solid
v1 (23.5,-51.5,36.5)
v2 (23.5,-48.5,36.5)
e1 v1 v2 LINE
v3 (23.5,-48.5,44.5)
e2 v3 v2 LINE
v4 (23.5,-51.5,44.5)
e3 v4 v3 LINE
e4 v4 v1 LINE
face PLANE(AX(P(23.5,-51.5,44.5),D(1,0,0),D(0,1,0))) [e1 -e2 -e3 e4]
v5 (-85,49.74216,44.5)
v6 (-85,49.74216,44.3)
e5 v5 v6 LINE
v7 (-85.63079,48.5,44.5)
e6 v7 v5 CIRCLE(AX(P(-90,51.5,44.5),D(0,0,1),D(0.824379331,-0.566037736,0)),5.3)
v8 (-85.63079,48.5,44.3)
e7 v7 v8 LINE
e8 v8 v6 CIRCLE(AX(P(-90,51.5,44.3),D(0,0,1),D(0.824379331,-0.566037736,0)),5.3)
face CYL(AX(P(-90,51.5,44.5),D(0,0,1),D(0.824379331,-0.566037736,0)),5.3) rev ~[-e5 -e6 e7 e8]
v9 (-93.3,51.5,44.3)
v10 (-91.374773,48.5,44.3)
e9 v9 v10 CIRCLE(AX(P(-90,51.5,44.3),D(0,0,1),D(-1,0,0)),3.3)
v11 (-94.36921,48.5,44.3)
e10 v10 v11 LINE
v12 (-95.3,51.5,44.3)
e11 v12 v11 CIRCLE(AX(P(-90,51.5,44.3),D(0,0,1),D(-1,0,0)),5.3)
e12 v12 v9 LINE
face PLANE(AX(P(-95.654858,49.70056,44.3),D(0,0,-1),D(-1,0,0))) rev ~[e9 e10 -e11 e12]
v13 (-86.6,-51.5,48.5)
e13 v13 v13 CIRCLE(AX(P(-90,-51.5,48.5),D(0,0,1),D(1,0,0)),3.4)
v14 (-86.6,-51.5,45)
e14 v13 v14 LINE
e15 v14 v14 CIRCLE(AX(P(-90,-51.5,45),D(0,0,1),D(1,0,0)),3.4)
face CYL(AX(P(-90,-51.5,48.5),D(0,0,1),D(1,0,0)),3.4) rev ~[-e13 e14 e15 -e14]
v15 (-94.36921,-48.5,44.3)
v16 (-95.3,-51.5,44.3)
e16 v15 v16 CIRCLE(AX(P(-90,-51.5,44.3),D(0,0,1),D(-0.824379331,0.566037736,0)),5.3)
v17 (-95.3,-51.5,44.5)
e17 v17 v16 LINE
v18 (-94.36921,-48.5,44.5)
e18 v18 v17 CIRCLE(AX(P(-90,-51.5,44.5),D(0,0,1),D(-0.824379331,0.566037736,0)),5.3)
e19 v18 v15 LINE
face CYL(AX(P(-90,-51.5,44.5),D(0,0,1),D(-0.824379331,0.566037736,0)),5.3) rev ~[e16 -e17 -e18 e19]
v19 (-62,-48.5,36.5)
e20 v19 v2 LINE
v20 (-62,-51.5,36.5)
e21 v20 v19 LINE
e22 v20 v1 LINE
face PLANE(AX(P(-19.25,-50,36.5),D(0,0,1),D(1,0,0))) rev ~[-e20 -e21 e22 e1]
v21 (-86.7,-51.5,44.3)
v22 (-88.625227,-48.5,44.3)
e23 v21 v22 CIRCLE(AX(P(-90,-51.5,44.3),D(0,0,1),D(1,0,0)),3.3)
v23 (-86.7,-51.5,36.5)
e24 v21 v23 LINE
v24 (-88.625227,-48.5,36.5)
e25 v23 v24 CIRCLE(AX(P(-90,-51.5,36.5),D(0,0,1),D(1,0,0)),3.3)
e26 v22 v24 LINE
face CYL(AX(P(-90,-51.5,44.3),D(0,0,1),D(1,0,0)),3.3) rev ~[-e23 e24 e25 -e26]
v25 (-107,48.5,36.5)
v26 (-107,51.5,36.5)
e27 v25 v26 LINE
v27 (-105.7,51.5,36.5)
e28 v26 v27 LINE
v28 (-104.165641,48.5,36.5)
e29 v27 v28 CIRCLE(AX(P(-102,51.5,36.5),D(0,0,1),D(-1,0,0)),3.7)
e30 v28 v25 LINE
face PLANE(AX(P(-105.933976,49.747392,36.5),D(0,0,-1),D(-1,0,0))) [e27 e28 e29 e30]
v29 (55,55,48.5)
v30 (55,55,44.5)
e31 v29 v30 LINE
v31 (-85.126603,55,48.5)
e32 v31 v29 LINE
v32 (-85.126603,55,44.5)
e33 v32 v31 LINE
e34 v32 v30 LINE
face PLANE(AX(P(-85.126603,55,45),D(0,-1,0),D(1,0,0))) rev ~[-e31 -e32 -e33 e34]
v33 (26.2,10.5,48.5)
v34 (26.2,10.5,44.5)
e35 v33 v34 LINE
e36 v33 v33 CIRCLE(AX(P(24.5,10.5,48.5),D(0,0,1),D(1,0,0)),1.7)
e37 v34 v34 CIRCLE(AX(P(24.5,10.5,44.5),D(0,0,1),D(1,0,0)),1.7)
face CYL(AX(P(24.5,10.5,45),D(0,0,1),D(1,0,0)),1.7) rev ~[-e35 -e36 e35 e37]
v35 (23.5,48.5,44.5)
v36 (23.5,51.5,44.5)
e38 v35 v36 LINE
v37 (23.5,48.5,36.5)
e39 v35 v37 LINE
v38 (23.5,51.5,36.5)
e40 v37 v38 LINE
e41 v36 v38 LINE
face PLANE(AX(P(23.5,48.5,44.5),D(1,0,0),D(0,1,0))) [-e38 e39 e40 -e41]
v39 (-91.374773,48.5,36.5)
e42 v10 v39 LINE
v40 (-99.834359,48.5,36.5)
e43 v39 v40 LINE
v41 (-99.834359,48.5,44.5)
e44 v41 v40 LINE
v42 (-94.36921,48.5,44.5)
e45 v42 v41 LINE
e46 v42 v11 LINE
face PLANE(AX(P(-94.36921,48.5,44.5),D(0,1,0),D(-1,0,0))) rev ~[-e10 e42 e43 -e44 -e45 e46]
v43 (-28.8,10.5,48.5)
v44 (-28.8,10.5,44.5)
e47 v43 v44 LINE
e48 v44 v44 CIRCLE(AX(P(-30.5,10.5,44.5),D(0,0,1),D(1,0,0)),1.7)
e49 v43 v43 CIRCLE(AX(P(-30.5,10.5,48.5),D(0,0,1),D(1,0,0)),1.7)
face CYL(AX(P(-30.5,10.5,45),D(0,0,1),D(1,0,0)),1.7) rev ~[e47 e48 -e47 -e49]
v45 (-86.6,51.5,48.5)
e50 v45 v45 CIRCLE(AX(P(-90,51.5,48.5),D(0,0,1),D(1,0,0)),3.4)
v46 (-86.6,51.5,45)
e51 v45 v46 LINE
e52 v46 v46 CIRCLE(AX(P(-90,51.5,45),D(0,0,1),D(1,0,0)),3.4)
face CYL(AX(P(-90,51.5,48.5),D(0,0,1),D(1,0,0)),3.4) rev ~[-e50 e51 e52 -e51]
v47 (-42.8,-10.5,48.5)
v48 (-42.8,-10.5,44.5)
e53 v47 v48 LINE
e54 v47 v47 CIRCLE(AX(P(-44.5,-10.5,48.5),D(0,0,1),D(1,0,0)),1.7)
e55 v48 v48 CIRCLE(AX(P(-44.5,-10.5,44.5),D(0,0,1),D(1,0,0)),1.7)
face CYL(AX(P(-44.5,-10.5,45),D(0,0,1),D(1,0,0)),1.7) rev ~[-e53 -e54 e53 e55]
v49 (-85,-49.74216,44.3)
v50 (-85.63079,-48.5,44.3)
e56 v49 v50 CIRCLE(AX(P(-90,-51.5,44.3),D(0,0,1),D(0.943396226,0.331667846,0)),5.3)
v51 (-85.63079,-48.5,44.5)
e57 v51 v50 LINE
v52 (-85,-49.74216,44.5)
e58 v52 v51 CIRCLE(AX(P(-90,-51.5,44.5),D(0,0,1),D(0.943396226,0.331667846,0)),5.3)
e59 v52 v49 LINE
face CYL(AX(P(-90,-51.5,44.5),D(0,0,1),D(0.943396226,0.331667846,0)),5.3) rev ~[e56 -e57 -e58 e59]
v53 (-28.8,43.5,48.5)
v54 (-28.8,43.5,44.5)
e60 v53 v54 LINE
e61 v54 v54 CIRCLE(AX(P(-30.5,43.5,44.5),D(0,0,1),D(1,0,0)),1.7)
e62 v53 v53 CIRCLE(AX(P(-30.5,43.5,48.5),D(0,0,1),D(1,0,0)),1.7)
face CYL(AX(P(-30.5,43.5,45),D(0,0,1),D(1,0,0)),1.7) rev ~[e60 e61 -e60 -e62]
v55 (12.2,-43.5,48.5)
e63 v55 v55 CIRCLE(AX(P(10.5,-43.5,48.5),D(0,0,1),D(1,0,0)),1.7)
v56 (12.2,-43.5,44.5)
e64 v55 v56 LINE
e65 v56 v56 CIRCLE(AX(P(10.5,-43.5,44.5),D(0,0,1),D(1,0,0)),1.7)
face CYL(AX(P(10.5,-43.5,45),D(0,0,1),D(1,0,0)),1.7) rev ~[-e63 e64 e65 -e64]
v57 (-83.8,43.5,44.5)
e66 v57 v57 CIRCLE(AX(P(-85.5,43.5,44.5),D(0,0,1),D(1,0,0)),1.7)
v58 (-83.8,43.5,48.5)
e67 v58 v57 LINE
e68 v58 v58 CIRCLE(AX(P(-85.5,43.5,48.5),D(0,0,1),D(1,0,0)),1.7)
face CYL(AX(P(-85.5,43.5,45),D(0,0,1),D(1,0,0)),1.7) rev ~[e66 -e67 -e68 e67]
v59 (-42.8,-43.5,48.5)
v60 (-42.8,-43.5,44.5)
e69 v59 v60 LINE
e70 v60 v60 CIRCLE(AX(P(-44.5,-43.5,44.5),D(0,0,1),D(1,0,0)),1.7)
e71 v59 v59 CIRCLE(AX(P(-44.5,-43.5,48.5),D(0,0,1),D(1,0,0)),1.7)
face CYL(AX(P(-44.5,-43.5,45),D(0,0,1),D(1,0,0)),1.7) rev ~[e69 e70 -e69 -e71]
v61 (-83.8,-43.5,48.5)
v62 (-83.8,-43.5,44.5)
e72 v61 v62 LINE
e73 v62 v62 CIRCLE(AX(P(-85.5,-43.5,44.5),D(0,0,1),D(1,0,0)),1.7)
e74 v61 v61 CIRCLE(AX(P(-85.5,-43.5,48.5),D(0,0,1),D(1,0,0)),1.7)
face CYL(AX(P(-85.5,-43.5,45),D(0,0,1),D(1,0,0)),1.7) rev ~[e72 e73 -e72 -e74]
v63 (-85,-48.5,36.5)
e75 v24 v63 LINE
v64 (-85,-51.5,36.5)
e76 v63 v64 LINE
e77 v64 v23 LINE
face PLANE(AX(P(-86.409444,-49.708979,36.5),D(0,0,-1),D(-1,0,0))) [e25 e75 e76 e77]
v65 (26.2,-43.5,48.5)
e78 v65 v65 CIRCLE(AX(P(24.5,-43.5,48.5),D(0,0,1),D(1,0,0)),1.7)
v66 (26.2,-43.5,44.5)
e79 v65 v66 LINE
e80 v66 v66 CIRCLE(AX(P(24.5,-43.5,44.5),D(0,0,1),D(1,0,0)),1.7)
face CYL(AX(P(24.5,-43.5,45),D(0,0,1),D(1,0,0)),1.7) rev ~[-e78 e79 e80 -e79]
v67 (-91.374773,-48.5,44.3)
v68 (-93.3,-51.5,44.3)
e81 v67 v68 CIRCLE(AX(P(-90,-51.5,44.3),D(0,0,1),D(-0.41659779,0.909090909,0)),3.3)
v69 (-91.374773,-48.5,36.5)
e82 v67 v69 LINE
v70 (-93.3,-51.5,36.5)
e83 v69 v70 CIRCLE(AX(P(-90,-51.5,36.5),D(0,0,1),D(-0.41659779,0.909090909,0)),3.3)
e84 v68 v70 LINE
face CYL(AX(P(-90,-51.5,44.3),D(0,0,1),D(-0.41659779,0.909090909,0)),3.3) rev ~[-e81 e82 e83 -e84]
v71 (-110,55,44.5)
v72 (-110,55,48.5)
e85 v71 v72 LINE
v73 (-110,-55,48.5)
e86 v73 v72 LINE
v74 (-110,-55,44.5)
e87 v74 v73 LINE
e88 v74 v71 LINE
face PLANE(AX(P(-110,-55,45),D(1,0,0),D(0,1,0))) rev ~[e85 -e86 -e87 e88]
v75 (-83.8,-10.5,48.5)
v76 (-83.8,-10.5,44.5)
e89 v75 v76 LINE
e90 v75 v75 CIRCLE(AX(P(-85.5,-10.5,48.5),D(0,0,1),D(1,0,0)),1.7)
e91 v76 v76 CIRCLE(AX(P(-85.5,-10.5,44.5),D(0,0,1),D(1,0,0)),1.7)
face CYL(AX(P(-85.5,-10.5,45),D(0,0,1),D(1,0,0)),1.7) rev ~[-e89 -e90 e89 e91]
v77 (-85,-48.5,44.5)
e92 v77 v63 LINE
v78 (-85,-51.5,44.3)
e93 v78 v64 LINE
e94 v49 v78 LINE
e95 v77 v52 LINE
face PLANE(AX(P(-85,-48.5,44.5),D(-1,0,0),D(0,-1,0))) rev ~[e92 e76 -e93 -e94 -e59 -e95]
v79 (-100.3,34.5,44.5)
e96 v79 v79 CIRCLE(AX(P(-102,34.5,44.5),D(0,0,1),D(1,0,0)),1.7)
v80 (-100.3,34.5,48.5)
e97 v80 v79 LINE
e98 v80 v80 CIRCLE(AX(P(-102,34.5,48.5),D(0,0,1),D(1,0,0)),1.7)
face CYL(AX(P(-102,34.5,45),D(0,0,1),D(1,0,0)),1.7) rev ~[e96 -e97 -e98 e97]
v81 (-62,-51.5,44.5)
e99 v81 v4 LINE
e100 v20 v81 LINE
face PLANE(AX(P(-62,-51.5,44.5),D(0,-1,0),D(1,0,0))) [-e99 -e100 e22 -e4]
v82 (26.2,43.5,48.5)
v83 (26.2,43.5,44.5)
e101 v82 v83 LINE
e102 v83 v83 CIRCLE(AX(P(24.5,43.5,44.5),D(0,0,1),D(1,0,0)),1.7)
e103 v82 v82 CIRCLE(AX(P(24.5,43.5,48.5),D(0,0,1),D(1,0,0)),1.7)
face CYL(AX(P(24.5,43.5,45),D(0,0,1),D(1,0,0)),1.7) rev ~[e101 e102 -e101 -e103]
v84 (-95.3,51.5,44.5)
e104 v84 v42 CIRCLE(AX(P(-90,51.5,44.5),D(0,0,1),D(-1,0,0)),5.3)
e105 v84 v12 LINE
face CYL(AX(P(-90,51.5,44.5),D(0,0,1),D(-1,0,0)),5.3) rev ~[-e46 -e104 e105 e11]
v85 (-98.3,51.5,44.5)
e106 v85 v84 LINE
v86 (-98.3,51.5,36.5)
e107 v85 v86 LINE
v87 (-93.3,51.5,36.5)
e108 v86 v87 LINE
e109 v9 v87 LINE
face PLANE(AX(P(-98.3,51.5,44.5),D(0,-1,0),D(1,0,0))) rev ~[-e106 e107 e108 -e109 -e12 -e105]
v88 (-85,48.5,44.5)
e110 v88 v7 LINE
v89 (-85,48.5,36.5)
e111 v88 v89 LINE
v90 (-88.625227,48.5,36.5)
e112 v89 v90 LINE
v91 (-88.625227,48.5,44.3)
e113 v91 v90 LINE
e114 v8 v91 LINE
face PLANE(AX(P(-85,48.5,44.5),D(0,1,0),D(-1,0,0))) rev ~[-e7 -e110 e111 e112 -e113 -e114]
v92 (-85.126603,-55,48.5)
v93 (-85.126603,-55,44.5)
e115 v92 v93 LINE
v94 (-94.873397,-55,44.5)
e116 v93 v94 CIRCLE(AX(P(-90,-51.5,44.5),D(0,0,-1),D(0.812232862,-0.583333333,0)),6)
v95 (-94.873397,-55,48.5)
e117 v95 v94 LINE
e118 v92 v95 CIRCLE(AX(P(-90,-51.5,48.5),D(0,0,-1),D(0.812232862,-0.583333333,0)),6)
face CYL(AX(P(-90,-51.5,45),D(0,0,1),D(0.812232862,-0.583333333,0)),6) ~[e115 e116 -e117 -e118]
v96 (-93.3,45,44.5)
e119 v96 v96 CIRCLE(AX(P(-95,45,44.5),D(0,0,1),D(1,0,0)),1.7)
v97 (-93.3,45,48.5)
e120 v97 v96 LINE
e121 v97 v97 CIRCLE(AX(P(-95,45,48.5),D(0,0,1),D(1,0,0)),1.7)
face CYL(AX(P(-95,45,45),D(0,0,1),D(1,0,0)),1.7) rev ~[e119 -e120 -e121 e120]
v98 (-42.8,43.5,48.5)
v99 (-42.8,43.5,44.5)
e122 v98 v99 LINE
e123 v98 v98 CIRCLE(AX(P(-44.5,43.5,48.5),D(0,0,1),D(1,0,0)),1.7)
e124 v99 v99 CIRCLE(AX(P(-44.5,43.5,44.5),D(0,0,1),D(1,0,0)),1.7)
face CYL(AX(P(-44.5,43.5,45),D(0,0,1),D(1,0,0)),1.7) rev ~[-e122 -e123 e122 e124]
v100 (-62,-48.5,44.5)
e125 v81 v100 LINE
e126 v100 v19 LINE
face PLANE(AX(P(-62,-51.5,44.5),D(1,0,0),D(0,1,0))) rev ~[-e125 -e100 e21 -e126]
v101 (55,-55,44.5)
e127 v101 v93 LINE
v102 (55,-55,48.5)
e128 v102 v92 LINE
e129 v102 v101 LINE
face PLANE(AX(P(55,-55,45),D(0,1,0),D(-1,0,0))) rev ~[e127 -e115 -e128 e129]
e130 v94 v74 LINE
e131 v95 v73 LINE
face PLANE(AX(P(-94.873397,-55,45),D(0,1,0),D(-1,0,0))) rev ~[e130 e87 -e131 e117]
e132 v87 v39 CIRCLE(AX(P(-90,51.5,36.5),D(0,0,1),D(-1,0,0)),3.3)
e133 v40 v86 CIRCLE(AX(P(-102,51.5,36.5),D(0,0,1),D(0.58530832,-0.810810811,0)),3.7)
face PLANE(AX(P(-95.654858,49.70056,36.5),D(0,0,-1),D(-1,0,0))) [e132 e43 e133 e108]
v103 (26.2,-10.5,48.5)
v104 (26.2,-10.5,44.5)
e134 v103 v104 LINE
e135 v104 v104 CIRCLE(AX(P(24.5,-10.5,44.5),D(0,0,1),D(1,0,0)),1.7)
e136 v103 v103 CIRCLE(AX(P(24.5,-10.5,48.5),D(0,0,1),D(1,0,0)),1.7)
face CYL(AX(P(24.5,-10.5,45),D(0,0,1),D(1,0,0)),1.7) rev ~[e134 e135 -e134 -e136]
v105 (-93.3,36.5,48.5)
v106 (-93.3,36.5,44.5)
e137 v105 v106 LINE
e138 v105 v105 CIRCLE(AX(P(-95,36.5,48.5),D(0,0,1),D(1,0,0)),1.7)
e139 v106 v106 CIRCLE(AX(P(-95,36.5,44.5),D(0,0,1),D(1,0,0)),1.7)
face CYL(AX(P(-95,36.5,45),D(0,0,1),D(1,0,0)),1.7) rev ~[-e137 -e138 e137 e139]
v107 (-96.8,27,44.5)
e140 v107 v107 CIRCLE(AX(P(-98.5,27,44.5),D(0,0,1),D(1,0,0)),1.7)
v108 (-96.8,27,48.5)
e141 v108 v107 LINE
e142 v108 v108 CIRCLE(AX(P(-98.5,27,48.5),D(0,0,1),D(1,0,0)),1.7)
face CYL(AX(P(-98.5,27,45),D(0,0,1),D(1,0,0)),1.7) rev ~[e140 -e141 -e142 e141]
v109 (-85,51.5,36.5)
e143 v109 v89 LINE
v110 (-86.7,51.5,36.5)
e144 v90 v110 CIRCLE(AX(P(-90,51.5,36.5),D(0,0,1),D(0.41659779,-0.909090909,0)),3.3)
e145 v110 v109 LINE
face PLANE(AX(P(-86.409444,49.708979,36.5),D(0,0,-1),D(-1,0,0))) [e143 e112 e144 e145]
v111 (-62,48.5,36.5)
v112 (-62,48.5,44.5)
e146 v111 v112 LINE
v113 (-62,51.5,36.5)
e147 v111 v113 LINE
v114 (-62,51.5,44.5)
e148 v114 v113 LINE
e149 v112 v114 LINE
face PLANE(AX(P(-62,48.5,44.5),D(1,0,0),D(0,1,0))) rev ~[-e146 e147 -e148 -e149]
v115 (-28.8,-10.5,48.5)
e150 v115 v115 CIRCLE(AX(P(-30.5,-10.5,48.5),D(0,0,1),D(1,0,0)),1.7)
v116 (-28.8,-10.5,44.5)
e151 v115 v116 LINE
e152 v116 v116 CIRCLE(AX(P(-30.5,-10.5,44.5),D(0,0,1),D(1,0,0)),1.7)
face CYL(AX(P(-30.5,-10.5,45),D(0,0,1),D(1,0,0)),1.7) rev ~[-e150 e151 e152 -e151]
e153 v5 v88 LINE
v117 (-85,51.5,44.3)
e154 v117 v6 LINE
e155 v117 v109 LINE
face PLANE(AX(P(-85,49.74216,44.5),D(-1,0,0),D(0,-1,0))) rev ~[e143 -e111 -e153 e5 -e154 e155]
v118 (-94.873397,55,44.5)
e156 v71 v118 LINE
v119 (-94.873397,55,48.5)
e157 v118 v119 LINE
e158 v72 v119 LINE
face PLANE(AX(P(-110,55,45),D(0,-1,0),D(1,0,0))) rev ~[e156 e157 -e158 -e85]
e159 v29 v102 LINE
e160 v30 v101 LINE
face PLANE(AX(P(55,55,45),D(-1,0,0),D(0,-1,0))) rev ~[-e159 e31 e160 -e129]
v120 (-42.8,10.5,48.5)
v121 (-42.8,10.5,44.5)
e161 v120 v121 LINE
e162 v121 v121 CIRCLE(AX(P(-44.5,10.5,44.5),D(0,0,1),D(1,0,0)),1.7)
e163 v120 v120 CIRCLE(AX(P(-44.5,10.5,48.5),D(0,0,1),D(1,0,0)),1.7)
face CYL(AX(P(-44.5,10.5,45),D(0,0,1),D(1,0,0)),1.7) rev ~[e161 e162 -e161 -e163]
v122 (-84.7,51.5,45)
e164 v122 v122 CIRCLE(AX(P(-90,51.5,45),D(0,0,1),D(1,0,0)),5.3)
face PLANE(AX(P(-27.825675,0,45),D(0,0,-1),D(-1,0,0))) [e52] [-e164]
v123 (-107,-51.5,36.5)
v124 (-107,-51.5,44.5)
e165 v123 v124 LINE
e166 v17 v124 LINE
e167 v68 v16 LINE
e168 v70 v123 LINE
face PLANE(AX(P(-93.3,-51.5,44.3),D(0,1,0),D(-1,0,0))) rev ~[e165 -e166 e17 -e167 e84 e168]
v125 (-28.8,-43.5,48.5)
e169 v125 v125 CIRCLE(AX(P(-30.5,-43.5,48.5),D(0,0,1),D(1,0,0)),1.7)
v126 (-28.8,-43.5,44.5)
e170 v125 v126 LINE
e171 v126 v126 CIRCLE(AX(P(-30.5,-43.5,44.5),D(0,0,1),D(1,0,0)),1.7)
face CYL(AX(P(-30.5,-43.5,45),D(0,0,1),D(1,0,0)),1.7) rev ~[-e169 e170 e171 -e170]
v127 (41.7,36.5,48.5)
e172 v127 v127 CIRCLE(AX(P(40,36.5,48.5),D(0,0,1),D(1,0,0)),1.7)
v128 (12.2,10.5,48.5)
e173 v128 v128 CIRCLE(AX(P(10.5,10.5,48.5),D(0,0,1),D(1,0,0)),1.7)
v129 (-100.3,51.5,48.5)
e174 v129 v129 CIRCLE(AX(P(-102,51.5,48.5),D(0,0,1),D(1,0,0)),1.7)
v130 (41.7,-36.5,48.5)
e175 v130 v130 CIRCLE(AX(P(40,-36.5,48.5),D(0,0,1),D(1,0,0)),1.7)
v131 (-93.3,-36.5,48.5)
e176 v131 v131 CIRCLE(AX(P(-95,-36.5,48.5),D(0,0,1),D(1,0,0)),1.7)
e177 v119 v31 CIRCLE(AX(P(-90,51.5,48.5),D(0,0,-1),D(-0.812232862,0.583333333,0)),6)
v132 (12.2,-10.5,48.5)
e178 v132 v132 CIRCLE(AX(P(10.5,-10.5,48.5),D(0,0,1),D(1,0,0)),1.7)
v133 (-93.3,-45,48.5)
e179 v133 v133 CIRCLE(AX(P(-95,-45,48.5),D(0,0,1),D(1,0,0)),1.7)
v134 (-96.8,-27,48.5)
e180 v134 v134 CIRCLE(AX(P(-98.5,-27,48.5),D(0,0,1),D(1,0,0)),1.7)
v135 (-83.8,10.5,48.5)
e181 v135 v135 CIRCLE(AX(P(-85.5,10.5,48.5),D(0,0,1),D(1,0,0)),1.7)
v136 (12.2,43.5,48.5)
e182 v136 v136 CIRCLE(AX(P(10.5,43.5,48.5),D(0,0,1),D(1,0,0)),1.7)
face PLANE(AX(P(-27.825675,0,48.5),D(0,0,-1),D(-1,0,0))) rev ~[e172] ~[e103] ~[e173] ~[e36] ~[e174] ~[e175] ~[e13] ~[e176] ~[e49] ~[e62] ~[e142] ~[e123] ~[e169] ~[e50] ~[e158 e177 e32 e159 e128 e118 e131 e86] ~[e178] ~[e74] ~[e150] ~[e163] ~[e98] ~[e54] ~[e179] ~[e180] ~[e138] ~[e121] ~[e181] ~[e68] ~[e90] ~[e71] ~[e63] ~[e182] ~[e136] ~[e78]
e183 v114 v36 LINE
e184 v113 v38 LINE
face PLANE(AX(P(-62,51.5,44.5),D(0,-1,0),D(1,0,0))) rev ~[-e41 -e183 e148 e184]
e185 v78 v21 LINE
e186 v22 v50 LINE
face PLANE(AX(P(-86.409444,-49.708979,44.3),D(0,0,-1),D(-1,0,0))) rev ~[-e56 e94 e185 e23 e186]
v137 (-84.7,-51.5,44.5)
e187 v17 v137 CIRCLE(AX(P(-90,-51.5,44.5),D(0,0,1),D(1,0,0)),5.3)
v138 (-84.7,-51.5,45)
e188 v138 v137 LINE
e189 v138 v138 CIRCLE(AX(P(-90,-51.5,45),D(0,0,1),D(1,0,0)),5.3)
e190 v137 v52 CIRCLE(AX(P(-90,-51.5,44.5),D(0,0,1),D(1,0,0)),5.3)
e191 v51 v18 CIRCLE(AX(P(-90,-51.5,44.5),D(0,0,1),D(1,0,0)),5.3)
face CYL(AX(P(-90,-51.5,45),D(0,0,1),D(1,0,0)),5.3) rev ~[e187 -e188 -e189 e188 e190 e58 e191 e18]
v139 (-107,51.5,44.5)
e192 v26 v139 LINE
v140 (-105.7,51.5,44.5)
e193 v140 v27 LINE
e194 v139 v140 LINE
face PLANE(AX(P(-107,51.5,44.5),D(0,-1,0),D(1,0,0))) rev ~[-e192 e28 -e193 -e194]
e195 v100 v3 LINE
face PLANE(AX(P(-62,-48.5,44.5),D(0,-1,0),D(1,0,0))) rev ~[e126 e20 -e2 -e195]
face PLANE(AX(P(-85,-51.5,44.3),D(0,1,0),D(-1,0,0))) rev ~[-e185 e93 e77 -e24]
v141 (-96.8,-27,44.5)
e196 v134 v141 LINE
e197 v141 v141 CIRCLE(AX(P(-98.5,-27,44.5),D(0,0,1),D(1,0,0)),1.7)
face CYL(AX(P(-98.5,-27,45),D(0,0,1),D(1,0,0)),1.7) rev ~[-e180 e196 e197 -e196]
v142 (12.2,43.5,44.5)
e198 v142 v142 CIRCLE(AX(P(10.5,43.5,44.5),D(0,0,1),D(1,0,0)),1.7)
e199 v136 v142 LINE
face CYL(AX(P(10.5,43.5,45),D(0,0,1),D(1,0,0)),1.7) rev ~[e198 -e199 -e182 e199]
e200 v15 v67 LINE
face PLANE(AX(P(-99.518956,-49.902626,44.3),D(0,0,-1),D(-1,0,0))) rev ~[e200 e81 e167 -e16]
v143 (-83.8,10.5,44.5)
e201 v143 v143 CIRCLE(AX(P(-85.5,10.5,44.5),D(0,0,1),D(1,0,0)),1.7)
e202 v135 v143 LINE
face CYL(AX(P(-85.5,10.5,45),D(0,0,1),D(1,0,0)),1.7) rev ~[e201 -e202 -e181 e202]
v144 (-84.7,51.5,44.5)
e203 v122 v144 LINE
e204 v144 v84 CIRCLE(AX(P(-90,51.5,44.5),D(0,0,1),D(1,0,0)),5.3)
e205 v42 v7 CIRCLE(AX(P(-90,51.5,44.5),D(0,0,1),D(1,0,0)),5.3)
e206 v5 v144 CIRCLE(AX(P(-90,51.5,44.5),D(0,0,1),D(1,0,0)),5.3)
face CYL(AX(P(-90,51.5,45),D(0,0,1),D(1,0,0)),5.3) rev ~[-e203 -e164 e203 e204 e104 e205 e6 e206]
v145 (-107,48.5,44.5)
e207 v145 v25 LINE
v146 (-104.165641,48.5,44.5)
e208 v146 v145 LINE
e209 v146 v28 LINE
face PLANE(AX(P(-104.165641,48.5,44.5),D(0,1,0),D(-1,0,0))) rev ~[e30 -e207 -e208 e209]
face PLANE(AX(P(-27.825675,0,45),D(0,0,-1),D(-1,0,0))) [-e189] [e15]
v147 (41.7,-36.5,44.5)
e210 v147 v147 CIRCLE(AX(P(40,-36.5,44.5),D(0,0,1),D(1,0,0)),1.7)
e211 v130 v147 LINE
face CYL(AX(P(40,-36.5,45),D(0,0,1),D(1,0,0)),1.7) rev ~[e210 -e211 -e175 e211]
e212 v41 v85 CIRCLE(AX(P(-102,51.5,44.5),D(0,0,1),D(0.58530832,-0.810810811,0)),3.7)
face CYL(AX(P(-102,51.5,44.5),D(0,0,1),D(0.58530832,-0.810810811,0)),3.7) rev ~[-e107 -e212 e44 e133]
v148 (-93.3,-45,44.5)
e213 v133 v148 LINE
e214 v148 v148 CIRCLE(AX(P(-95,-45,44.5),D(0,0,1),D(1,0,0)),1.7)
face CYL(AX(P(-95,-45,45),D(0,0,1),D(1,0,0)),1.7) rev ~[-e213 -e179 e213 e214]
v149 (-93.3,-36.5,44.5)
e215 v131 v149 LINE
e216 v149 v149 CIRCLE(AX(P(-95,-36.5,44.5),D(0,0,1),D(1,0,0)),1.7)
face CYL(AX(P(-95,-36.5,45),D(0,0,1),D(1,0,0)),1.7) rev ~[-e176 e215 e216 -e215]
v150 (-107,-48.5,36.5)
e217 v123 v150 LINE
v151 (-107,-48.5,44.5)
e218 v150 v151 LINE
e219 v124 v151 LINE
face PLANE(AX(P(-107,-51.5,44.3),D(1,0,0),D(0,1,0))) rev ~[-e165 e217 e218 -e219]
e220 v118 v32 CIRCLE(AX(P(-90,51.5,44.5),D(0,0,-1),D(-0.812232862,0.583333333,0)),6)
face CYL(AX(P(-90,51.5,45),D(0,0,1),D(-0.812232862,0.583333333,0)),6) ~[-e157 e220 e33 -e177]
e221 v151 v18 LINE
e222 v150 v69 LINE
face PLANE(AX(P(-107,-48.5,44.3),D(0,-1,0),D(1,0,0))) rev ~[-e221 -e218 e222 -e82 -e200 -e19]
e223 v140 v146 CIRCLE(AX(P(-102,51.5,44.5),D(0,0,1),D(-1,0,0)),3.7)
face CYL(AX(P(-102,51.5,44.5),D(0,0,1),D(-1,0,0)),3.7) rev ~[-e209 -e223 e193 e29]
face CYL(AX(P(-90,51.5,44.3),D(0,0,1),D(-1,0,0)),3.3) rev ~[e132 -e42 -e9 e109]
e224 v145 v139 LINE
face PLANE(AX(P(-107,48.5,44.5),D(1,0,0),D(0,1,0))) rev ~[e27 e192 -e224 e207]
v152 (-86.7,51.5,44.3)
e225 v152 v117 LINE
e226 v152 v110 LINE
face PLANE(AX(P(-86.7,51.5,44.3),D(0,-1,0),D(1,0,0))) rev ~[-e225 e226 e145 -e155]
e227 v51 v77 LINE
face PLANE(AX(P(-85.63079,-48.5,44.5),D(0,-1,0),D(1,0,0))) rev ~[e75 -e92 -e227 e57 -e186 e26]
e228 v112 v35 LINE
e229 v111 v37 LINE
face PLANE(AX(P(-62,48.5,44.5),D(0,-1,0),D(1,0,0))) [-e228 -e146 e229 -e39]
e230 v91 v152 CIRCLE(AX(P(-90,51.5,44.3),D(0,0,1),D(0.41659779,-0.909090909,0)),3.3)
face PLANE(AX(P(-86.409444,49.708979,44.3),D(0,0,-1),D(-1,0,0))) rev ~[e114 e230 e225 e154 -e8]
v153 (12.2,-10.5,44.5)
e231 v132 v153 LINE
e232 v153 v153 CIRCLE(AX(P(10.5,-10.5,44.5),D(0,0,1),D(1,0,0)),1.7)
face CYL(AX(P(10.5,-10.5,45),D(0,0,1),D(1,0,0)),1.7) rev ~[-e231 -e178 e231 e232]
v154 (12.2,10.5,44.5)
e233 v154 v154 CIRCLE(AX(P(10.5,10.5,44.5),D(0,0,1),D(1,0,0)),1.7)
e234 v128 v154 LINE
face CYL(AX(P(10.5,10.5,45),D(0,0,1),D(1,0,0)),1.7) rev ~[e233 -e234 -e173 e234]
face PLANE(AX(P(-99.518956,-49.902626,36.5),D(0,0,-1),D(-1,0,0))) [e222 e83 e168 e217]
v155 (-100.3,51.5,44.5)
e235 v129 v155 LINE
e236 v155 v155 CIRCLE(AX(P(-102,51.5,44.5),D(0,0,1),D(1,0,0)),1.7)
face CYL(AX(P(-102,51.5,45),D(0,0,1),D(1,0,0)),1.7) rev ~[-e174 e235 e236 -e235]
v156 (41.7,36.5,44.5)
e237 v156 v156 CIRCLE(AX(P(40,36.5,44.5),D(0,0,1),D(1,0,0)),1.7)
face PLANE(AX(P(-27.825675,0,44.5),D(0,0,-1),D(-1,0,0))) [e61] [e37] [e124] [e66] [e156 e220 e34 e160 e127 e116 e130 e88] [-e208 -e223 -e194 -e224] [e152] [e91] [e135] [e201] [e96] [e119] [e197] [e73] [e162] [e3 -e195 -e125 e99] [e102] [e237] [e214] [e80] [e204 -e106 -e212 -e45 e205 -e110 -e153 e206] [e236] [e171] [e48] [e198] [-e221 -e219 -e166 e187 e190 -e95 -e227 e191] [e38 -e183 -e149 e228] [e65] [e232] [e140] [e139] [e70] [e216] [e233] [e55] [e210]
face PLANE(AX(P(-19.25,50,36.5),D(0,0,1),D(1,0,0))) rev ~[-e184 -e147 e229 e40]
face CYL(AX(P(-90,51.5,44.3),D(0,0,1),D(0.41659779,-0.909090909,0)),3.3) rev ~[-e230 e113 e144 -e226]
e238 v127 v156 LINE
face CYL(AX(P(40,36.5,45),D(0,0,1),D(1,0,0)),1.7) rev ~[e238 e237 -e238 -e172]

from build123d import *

# Parameters (mm, degrees)
MAIN_PROFILE_SKETCH_R       = 3.4
MAIN_PROFILE_SKETCH_R_2     = 1.7
MAIN_EXTRUSION_DEPTH        = 3.5
DETAIL_PROFILE_2_SKETCH_R   = 5.3
DETAIL_PROFILE_2_SKETCH_R_2 = 1.7
DETAIL_EXTRUSION_2_DEPTH    = 0.5
DETAIL_PROFILE_3_SKETCH_W   = 85.5
DETAIL_PROFILE_3_SKETCH_H   = 3
DETAIL_EXTRUSION_3_DEPTH    = 0.2
DETAIL_PROFILE_4_SKETCH_W   = 85.5
DETAIL_PROFILE_4_SKETCH_H   = 3
DETAIL_EXTRUSION_4_DEPTH    = 7.8


with BuildPart() as part:
    # Main Profile Sketch → Main Extrusion (new body)
    with BuildSketch(Plane.XY.offset(48.5)):
        with BuildLine():
            Line((-85.126602828, 55), (55, 55))
            Line((55, 55), (55, -55))
            Line((55, -55), (-85.126602828, -55))
            ThreePointArc((-85.126602828, -55), (-90, -57.5), (-94.873397172, -55))
            Line((-94.873397172, -55), (-110, -55))
            Line((-110, -55), (-110, 55))
            Line((-110, 55), (-94.873397172, 55))
            ThreePointArc((-94.873397172, 55), (-90, 57.5), (-85.126602828, 55))
        make_face()
        with Locations((-90, -51.5)):
            Circle(MAIN_PROFILE_SKETCH_R, mode=Mode.SUBTRACT)
        with Locations((-95, -45)):
            Circle(MAIN_PROFILE_SKETCH_R_2, mode=Mode.SUBTRACT)
        with Locations((-85.5, -43.5)):
            Circle(MAIN_PROFILE_SKETCH_R_2, mode=Mode.SUBTRACT)
        with Locations((-95, -36.5)):
            Circle(MAIN_PROFILE_SKETCH_R_2, mode=Mode.SUBTRACT)
        with Locations((-44.5, -43.5)):
            Circle(MAIN_PROFILE_SKETCH_R_2, mode=Mode.SUBTRACT)
        with Locations((-30.5, -43.5)):
            Circle(MAIN_PROFILE_SKETCH_R_2, mode=Mode.SUBTRACT)
        with Locations((-98.5, -27)):
            Circle(MAIN_PROFILE_SKETCH_R_2, mode=Mode.SUBTRACT)
        with Locations((-85.5, -10.5)):
            Circle(MAIN_PROFILE_SKETCH_R_2, mode=Mode.SUBTRACT)
        with Locations((-44.5, -10.5)):
            Circle(MAIN_PROFILE_SKETCH_R_2, mode=Mode.SUBTRACT)
        with Locations((-30.5, -10.5)):
            Circle(MAIN_PROFILE_SKETCH_R_2, mode=Mode.SUBTRACT)
        with Locations((10.5, -43.5)):
            Circle(MAIN_PROFILE_SKETCH_R_2, mode=Mode.SUBTRACT)
        with Locations((24.5, -43.5)):
            Circle(MAIN_PROFILE_SKETCH_R_2, mode=Mode.SUBTRACT)
        with Locations((40, -36.5)):
            Circle(MAIN_PROFILE_SKETCH_R_2, mode=Mode.SUBTRACT)
        with Locations((10.5, -10.5)):
            Circle(MAIN_PROFILE_SKETCH_R_2, mode=Mode.SUBTRACT)
        with Locations((24.5, -10.5)):
            Circle(MAIN_PROFILE_SKETCH_R_2, mode=Mode.SUBTRACT)
        with Locations((-85.5, 10.5)):
            Circle(MAIN_PROFILE_SKETCH_R_2, mode=Mode.SUBTRACT)
        with Locations((-98.5, 27)):
            Circle(MAIN_PROFILE_SKETCH_R_2, mode=Mode.SUBTRACT)
        with Locations((-44.5, 10.5)):
            Circle(MAIN_PROFILE_SKETCH_R_2, mode=Mode.SUBTRACT)
        with Locations((-30.5, 10.5)):
            Circle(MAIN_PROFILE_SKETCH_R_2, mode=Mode.SUBTRACT)
        with Locations((-102, 34.5)):
            Circle(MAIN_PROFILE_SKETCH_R_2, mode=Mode.SUBTRACT)
        with Locations((-95, 36.5)):
            Circle(MAIN_PROFILE_SKETCH_R_2, mode=Mode.SUBTRACT)
        with Locations((-95, 45)):
            Circle(MAIN_PROFILE_SKETCH_R_2, mode=Mode.SUBTRACT)
        with Locations((-102, 51.5)):
            Circle(MAIN_PROFILE_SKETCH_R_2, mode=Mode.SUBTRACT)
        with Locations((-90, 51.5)):
            Circle(MAIN_PROFILE_SKETCH_R, mode=Mode.SUBTRACT)
        with Locations((-85.5, 43.5)):
            Circle(MAIN_PROFILE_SKETCH_R_2, mode=Mode.SUBTRACT)
        with Locations((-44.5, 43.5)):
            Circle(MAIN_PROFILE_SKETCH_R_2, mode=Mode.SUBTRACT)
        with Locations((-30.5, 43.5)):
            Circle(MAIN_PROFILE_SKETCH_R_2, mode=Mode.SUBTRACT)
        with Locations((10.5, 10.5)):
            Circle(MAIN_PROFILE_SKETCH_R_2, mode=Mode.SUBTRACT)
        with Locations((24.5, 10.5)):
            Circle(MAIN_PROFILE_SKETCH_R_2, mode=Mode.SUBTRACT)
        with Locations((10.5, 43.5)):
            Circle(MAIN_PROFILE_SKETCH_R_2, mode=Mode.SUBTRACT)
        with Locations((40, 36.5)):
            Circle(MAIN_PROFILE_SKETCH_R_2, mode=Mode.SUBTRACT)
        with Locations((24.5, 43.5)):
            Circle(MAIN_PROFILE_SKETCH_R_2, mode=Mode.SUBTRACT)
    extrude(amount=-MAIN_EXTRUSION_DEPTH)

    # Detail Profile 2 Sketch → Detail Extrusion 2 (add)
    with BuildSketch(Plane.XY.offset(45)):
        with BuildLine():
            Line((-85.126602828, 55), (55, 55))
            Line((55, 55), (55, -55))
            Line((55, -55), (-85.126602828, -55))
            ThreePointArc((-85.126602828, -55), (-90, -57.5), (-94.873397172, -55))
            Line((-94.873397172, -55), (-110, -55))
            Line((-110, -55), (-110, 55))
            Line((-110, 55), (-94.873397172, 55))
            ThreePointArc((-94.873397172, 55), (-90, 57.5), (-85.126602828, 55))
        make_face()
        with Locations((-90, -51.5)):
            Circle(DETAIL_PROFILE_2_SKETCH_R, mode=Mode.SUBTRACT)
        with Locations((-95, -45)):
            Circle(DETAIL_PROFILE_2_SKETCH_R_2, mode=Mode.SUBTRACT)
        with Locations((-85.5, -43.5)):
            Circle(DETAIL_PROFILE_2_SKETCH_R_2, mode=Mode.SUBTRACT)
        with Locations((-95, -36.5)):
            Circle(DETAIL_PROFILE_2_SKETCH_R_2, mode=Mode.SUBTRACT)
        with Locations((-44.5, -43.5)):
            Circle(DETAIL_PROFILE_2_SKETCH_R_2, mode=Mode.SUBTRACT)
        with Locations((-30.5, -43.5)):
            Circle(DETAIL_PROFILE_2_SKETCH_R_2, mode=Mode.SUBTRACT)
        with Locations((-98.5, -27)):
            Circle(DETAIL_PROFILE_2_SKETCH_R_2, mode=Mode.SUBTRACT)
        with Locations((-85.5, -10.5)):
            Circle(DETAIL_PROFILE_2_SKETCH_R_2, mode=Mode.SUBTRACT)
        with Locations((-44.5, -10.5)):
            Circle(DETAIL_PROFILE_2_SKETCH_R_2, mode=Mode.SUBTRACT)
        with Locations((-30.5, -10.5)):
            Circle(DETAIL_PROFILE_2_SKETCH_R_2, mode=Mode.SUBTRACT)
        with Locations((10.5, -43.5)):
            Circle(DETAIL_PROFILE_2_SKETCH_R_2, mode=Mode.SUBTRACT)
        with Locations((24.5, -43.5)):
            Circle(DETAIL_PROFILE_2_SKETCH_R_2, mode=Mode.SUBTRACT)
        with Locations((40, -36.5)):
            Circle(DETAIL_PROFILE_2_SKETCH_R_2, mode=Mode.SUBTRACT)
        with Locations((10.5, -10.5)):
            Circle(DETAIL_PROFILE_2_SKETCH_R_2, mode=Mode.SUBTRACT)
        with Locations((24.5, -10.5)):
            Circle(DETAIL_PROFILE_2_SKETCH_R_2, mode=Mode.SUBTRACT)
        with Locations((-85.5, 10.5)):
            Circle(DETAIL_PROFILE_2_SKETCH_R_2, mode=Mode.SUBTRACT)
        with Locations((-98.5, 27)):
            Circle(DETAIL_PROFILE_2_SKETCH_R_2, mode=Mode.SUBTRACT)
        with Locations((-44.5, 10.5)):
            Circle(DETAIL_PROFILE_2_SKETCH_R_2, mode=Mode.SUBTRACT)
        with Locations((-30.5, 10.5)):
            Circle(DETAIL_PROFILE_2_SKETCH_R_2, mode=Mode.SUBTRACT)
        with Locations((-102, 34.5)):
            Circle(DETAIL_PROFILE_2_SKETCH_R_2, mode=Mode.SUBTRACT)
        with Locations((-95, 36.5)):
            Circle(DETAIL_PROFILE_2_SKETCH_R_2, mode=Mode.SUBTRACT)
        with Locations((-95, 45)):
            Circle(DETAIL_PROFILE_2_SKETCH_R_2, mode=Mode.SUBTRACT)
        with Locations((-102, 51.5)):
            Circle(DETAIL_PROFILE_2_SKETCH_R_2, mode=Mode.SUBTRACT)
        with Locations((-90, 51.5)):
            Circle(DETAIL_PROFILE_2_SKETCH_R, mode=Mode.SUBTRACT)
        with Locations((-85.5, 43.5)):
            Circle(DETAIL_PROFILE_2_SKETCH_R_2, mode=Mode.SUBTRACT)
        with Locations((-44.5, 43.5)):
            Circle(DETAIL_PROFILE_2_SKETCH_R_2, mode=Mode.SUBTRACT)
        with Locations((-30.5, 43.5)):
            Circle(DETAIL_PROFILE_2_SKETCH_R_2, mode=Mode.SUBTRACT)
        with Locations((10.5, 10.5)):
            Circle(DETAIL_PROFILE_2_SKETCH_R_2, mode=Mode.SUBTRACT)
        with Locations((24.5, 10.5)):
            Circle(DETAIL_PROFILE_2_SKETCH_R_2, mode=Mode.SUBTRACT)
        with Locations((10.5, 43.5)):
            Circle(DETAIL_PROFILE_2_SKETCH_R_2, mode=Mode.SUBTRACT)
        with Locations((40, 36.5)):
            Circle(DETAIL_PROFILE_2_SKETCH_R_2, mode=Mode.SUBTRACT)
        with Locations((24.5, 43.5)):
            Circle(DETAIL_PROFILE_2_SKETCH_R_2, mode=Mode.SUBTRACT)
    extrude(amount=-DETAIL_EXTRUSION_2_DEPTH)

    # Detail Profile 3 Sketch → Detail Extrusion 3 (add)
    with BuildSketch(Plane.XY.offset(44.5)):
        with BuildLine():
            Line((-107, -48.5), (-94.369210455, -48.5))
            ThreePointArc((-94.369210455, -48.5), (-95.061956905, -49.929461145), (-95.3, -51.5))
            Line((-95.3, -51.5), (-107, -51.5))
            Line((-107, -51.5), (-107, -48.5))
        make_face()
        with BuildLine():
            Line((-85.630789545, -48.5), (-85, -48.5))
            Line((-85, -48.5), (-85, -49.742160417))
            ThreePointArc((-85, -49.742160417), (-85.274403026, -49.100263923), (-85.630789545, -48.5))
        make_face()
        with Locations((-19.25, -50)):
            Rectangle(DETAIL_PROFILE_3_SKETCH_W, DETAIL_PROFILE_3_SKETCH_H)
        with BuildLine():
            Line((-107, 51.5), (-105.7, 51.5))
            ThreePointArc((-105.7, 51.5), (-105.294151704, 49.81519599), (-104.165640783, 48.5))
            Line((-104.165640783, 48.5), (-107, 48.5))
            Line((-107, 48.5), (-107, 51.5))
        make_face()
        with BuildLine():
            Line((-98.3, 51.5), (-95.3, 51.5))
            ThreePointArc((-95.3, 51.5), (-95.061956905, 49.929461145), (-94.369210455, 48.5))
            Line((-94.369210455, 48.5), (-99.834359217, 48.5))
            ThreePointArc((-99.834359217, 48.5), (-98.705848296, 49.81519599), (-98.3, 51.5))
        make_face()
        with BuildLine():
            Line((-85, 49.742160417), (-85, 48.5))
            Line((-85, 48.5), (-85.630789545, 48.5))
            ThreePointArc((-85.630789545, 48.5), (-85.274403026, 49.100263923), (-85, 49.742160417))
        make_face()
        with Locations((-19.25, 50)):
            Rectangle(DETAIL_PROFILE_3_SKETCH_W, DETAIL_PROFILE_3_SKETCH_H)
    extrude(amount=-DETAIL_EXTRUSION_3_DEPTH)

    # Detail Profile 4 Sketch → Detail Extrusion 4 (add)
    with BuildSketch(Plane.XY.offset(44.3)):
        with BuildLine():
            Line((-107, -48.5), (-91.374772708, -48.5))
            ThreePointArc((-91.374772708, -48.5), (-92.777296342, -49.717691096), (-93.3, -51.5))
            Line((-93.3, -51.5), (-107, -51.5))
            Line((-107, -51.5), (-107, -48.5))
        make_face()
        with BuildLine():
            Line((-85, -48.5), (-85, -51.5))
            Line((-85, -51.5), (-86.7, -51.5))
            ThreePointArc((-86.7, -51.5), (-87.222703658, -49.717691096), (-88.625227292, -48.5))
            Line((-88.625227292, -48.5), (-85, -48.5))
        make_face()
        with Locations((-19.25, -50)):
            Rectangle(DETAIL_PROFILE_4_SKETCH_W, DETAIL_PROFILE_4_SKETCH_H)
        with BuildLine():
            Line((-107, 51.5), (-105.7, 51.5))
            ThreePointArc((-105.7, 51.5), (-105.294151704, 49.81519599), (-104.165640783, 48.5))
            Line((-104.165640783, 48.5), (-107, 48.5))
            Line((-107, 48.5), (-107, 51.5))
        make_face()
        with BuildLine():
            Line((-98.3, 51.5), (-93.3, 51.5))
            ThreePointArc((-93.3, 51.5), (-92.777296342, 49.717691096), (-91.374772708, 48.5))
            Line((-91.374772708, 48.5), (-99.834359217, 48.5))
            ThreePointArc((-99.834359217, 48.5), (-98.705848296, 49.81519599), (-98.3, 51.5))
        make_face()
        with BuildLine():
            Line((-86.7, 51.5), (-85, 51.5))
            Line((-85, 51.5), (-85, 48.5))
            Line((-85, 48.5), (-88.625227292, 48.5))
            ThreePointArc((-88.625227292, 48.5), (-87.222703658, 49.717691096), (-86.7, 51.5))
        make_face()
        with Locations((-19.25, 50)):
            Rectangle(DETAIL_PROFILE_4_SKETCH_W, DETAIL_PROFILE_4_SKETCH_H)
    extrude(amount=-DETAIL_EXTRUSION_4_DEPTH)


solid = part.part
